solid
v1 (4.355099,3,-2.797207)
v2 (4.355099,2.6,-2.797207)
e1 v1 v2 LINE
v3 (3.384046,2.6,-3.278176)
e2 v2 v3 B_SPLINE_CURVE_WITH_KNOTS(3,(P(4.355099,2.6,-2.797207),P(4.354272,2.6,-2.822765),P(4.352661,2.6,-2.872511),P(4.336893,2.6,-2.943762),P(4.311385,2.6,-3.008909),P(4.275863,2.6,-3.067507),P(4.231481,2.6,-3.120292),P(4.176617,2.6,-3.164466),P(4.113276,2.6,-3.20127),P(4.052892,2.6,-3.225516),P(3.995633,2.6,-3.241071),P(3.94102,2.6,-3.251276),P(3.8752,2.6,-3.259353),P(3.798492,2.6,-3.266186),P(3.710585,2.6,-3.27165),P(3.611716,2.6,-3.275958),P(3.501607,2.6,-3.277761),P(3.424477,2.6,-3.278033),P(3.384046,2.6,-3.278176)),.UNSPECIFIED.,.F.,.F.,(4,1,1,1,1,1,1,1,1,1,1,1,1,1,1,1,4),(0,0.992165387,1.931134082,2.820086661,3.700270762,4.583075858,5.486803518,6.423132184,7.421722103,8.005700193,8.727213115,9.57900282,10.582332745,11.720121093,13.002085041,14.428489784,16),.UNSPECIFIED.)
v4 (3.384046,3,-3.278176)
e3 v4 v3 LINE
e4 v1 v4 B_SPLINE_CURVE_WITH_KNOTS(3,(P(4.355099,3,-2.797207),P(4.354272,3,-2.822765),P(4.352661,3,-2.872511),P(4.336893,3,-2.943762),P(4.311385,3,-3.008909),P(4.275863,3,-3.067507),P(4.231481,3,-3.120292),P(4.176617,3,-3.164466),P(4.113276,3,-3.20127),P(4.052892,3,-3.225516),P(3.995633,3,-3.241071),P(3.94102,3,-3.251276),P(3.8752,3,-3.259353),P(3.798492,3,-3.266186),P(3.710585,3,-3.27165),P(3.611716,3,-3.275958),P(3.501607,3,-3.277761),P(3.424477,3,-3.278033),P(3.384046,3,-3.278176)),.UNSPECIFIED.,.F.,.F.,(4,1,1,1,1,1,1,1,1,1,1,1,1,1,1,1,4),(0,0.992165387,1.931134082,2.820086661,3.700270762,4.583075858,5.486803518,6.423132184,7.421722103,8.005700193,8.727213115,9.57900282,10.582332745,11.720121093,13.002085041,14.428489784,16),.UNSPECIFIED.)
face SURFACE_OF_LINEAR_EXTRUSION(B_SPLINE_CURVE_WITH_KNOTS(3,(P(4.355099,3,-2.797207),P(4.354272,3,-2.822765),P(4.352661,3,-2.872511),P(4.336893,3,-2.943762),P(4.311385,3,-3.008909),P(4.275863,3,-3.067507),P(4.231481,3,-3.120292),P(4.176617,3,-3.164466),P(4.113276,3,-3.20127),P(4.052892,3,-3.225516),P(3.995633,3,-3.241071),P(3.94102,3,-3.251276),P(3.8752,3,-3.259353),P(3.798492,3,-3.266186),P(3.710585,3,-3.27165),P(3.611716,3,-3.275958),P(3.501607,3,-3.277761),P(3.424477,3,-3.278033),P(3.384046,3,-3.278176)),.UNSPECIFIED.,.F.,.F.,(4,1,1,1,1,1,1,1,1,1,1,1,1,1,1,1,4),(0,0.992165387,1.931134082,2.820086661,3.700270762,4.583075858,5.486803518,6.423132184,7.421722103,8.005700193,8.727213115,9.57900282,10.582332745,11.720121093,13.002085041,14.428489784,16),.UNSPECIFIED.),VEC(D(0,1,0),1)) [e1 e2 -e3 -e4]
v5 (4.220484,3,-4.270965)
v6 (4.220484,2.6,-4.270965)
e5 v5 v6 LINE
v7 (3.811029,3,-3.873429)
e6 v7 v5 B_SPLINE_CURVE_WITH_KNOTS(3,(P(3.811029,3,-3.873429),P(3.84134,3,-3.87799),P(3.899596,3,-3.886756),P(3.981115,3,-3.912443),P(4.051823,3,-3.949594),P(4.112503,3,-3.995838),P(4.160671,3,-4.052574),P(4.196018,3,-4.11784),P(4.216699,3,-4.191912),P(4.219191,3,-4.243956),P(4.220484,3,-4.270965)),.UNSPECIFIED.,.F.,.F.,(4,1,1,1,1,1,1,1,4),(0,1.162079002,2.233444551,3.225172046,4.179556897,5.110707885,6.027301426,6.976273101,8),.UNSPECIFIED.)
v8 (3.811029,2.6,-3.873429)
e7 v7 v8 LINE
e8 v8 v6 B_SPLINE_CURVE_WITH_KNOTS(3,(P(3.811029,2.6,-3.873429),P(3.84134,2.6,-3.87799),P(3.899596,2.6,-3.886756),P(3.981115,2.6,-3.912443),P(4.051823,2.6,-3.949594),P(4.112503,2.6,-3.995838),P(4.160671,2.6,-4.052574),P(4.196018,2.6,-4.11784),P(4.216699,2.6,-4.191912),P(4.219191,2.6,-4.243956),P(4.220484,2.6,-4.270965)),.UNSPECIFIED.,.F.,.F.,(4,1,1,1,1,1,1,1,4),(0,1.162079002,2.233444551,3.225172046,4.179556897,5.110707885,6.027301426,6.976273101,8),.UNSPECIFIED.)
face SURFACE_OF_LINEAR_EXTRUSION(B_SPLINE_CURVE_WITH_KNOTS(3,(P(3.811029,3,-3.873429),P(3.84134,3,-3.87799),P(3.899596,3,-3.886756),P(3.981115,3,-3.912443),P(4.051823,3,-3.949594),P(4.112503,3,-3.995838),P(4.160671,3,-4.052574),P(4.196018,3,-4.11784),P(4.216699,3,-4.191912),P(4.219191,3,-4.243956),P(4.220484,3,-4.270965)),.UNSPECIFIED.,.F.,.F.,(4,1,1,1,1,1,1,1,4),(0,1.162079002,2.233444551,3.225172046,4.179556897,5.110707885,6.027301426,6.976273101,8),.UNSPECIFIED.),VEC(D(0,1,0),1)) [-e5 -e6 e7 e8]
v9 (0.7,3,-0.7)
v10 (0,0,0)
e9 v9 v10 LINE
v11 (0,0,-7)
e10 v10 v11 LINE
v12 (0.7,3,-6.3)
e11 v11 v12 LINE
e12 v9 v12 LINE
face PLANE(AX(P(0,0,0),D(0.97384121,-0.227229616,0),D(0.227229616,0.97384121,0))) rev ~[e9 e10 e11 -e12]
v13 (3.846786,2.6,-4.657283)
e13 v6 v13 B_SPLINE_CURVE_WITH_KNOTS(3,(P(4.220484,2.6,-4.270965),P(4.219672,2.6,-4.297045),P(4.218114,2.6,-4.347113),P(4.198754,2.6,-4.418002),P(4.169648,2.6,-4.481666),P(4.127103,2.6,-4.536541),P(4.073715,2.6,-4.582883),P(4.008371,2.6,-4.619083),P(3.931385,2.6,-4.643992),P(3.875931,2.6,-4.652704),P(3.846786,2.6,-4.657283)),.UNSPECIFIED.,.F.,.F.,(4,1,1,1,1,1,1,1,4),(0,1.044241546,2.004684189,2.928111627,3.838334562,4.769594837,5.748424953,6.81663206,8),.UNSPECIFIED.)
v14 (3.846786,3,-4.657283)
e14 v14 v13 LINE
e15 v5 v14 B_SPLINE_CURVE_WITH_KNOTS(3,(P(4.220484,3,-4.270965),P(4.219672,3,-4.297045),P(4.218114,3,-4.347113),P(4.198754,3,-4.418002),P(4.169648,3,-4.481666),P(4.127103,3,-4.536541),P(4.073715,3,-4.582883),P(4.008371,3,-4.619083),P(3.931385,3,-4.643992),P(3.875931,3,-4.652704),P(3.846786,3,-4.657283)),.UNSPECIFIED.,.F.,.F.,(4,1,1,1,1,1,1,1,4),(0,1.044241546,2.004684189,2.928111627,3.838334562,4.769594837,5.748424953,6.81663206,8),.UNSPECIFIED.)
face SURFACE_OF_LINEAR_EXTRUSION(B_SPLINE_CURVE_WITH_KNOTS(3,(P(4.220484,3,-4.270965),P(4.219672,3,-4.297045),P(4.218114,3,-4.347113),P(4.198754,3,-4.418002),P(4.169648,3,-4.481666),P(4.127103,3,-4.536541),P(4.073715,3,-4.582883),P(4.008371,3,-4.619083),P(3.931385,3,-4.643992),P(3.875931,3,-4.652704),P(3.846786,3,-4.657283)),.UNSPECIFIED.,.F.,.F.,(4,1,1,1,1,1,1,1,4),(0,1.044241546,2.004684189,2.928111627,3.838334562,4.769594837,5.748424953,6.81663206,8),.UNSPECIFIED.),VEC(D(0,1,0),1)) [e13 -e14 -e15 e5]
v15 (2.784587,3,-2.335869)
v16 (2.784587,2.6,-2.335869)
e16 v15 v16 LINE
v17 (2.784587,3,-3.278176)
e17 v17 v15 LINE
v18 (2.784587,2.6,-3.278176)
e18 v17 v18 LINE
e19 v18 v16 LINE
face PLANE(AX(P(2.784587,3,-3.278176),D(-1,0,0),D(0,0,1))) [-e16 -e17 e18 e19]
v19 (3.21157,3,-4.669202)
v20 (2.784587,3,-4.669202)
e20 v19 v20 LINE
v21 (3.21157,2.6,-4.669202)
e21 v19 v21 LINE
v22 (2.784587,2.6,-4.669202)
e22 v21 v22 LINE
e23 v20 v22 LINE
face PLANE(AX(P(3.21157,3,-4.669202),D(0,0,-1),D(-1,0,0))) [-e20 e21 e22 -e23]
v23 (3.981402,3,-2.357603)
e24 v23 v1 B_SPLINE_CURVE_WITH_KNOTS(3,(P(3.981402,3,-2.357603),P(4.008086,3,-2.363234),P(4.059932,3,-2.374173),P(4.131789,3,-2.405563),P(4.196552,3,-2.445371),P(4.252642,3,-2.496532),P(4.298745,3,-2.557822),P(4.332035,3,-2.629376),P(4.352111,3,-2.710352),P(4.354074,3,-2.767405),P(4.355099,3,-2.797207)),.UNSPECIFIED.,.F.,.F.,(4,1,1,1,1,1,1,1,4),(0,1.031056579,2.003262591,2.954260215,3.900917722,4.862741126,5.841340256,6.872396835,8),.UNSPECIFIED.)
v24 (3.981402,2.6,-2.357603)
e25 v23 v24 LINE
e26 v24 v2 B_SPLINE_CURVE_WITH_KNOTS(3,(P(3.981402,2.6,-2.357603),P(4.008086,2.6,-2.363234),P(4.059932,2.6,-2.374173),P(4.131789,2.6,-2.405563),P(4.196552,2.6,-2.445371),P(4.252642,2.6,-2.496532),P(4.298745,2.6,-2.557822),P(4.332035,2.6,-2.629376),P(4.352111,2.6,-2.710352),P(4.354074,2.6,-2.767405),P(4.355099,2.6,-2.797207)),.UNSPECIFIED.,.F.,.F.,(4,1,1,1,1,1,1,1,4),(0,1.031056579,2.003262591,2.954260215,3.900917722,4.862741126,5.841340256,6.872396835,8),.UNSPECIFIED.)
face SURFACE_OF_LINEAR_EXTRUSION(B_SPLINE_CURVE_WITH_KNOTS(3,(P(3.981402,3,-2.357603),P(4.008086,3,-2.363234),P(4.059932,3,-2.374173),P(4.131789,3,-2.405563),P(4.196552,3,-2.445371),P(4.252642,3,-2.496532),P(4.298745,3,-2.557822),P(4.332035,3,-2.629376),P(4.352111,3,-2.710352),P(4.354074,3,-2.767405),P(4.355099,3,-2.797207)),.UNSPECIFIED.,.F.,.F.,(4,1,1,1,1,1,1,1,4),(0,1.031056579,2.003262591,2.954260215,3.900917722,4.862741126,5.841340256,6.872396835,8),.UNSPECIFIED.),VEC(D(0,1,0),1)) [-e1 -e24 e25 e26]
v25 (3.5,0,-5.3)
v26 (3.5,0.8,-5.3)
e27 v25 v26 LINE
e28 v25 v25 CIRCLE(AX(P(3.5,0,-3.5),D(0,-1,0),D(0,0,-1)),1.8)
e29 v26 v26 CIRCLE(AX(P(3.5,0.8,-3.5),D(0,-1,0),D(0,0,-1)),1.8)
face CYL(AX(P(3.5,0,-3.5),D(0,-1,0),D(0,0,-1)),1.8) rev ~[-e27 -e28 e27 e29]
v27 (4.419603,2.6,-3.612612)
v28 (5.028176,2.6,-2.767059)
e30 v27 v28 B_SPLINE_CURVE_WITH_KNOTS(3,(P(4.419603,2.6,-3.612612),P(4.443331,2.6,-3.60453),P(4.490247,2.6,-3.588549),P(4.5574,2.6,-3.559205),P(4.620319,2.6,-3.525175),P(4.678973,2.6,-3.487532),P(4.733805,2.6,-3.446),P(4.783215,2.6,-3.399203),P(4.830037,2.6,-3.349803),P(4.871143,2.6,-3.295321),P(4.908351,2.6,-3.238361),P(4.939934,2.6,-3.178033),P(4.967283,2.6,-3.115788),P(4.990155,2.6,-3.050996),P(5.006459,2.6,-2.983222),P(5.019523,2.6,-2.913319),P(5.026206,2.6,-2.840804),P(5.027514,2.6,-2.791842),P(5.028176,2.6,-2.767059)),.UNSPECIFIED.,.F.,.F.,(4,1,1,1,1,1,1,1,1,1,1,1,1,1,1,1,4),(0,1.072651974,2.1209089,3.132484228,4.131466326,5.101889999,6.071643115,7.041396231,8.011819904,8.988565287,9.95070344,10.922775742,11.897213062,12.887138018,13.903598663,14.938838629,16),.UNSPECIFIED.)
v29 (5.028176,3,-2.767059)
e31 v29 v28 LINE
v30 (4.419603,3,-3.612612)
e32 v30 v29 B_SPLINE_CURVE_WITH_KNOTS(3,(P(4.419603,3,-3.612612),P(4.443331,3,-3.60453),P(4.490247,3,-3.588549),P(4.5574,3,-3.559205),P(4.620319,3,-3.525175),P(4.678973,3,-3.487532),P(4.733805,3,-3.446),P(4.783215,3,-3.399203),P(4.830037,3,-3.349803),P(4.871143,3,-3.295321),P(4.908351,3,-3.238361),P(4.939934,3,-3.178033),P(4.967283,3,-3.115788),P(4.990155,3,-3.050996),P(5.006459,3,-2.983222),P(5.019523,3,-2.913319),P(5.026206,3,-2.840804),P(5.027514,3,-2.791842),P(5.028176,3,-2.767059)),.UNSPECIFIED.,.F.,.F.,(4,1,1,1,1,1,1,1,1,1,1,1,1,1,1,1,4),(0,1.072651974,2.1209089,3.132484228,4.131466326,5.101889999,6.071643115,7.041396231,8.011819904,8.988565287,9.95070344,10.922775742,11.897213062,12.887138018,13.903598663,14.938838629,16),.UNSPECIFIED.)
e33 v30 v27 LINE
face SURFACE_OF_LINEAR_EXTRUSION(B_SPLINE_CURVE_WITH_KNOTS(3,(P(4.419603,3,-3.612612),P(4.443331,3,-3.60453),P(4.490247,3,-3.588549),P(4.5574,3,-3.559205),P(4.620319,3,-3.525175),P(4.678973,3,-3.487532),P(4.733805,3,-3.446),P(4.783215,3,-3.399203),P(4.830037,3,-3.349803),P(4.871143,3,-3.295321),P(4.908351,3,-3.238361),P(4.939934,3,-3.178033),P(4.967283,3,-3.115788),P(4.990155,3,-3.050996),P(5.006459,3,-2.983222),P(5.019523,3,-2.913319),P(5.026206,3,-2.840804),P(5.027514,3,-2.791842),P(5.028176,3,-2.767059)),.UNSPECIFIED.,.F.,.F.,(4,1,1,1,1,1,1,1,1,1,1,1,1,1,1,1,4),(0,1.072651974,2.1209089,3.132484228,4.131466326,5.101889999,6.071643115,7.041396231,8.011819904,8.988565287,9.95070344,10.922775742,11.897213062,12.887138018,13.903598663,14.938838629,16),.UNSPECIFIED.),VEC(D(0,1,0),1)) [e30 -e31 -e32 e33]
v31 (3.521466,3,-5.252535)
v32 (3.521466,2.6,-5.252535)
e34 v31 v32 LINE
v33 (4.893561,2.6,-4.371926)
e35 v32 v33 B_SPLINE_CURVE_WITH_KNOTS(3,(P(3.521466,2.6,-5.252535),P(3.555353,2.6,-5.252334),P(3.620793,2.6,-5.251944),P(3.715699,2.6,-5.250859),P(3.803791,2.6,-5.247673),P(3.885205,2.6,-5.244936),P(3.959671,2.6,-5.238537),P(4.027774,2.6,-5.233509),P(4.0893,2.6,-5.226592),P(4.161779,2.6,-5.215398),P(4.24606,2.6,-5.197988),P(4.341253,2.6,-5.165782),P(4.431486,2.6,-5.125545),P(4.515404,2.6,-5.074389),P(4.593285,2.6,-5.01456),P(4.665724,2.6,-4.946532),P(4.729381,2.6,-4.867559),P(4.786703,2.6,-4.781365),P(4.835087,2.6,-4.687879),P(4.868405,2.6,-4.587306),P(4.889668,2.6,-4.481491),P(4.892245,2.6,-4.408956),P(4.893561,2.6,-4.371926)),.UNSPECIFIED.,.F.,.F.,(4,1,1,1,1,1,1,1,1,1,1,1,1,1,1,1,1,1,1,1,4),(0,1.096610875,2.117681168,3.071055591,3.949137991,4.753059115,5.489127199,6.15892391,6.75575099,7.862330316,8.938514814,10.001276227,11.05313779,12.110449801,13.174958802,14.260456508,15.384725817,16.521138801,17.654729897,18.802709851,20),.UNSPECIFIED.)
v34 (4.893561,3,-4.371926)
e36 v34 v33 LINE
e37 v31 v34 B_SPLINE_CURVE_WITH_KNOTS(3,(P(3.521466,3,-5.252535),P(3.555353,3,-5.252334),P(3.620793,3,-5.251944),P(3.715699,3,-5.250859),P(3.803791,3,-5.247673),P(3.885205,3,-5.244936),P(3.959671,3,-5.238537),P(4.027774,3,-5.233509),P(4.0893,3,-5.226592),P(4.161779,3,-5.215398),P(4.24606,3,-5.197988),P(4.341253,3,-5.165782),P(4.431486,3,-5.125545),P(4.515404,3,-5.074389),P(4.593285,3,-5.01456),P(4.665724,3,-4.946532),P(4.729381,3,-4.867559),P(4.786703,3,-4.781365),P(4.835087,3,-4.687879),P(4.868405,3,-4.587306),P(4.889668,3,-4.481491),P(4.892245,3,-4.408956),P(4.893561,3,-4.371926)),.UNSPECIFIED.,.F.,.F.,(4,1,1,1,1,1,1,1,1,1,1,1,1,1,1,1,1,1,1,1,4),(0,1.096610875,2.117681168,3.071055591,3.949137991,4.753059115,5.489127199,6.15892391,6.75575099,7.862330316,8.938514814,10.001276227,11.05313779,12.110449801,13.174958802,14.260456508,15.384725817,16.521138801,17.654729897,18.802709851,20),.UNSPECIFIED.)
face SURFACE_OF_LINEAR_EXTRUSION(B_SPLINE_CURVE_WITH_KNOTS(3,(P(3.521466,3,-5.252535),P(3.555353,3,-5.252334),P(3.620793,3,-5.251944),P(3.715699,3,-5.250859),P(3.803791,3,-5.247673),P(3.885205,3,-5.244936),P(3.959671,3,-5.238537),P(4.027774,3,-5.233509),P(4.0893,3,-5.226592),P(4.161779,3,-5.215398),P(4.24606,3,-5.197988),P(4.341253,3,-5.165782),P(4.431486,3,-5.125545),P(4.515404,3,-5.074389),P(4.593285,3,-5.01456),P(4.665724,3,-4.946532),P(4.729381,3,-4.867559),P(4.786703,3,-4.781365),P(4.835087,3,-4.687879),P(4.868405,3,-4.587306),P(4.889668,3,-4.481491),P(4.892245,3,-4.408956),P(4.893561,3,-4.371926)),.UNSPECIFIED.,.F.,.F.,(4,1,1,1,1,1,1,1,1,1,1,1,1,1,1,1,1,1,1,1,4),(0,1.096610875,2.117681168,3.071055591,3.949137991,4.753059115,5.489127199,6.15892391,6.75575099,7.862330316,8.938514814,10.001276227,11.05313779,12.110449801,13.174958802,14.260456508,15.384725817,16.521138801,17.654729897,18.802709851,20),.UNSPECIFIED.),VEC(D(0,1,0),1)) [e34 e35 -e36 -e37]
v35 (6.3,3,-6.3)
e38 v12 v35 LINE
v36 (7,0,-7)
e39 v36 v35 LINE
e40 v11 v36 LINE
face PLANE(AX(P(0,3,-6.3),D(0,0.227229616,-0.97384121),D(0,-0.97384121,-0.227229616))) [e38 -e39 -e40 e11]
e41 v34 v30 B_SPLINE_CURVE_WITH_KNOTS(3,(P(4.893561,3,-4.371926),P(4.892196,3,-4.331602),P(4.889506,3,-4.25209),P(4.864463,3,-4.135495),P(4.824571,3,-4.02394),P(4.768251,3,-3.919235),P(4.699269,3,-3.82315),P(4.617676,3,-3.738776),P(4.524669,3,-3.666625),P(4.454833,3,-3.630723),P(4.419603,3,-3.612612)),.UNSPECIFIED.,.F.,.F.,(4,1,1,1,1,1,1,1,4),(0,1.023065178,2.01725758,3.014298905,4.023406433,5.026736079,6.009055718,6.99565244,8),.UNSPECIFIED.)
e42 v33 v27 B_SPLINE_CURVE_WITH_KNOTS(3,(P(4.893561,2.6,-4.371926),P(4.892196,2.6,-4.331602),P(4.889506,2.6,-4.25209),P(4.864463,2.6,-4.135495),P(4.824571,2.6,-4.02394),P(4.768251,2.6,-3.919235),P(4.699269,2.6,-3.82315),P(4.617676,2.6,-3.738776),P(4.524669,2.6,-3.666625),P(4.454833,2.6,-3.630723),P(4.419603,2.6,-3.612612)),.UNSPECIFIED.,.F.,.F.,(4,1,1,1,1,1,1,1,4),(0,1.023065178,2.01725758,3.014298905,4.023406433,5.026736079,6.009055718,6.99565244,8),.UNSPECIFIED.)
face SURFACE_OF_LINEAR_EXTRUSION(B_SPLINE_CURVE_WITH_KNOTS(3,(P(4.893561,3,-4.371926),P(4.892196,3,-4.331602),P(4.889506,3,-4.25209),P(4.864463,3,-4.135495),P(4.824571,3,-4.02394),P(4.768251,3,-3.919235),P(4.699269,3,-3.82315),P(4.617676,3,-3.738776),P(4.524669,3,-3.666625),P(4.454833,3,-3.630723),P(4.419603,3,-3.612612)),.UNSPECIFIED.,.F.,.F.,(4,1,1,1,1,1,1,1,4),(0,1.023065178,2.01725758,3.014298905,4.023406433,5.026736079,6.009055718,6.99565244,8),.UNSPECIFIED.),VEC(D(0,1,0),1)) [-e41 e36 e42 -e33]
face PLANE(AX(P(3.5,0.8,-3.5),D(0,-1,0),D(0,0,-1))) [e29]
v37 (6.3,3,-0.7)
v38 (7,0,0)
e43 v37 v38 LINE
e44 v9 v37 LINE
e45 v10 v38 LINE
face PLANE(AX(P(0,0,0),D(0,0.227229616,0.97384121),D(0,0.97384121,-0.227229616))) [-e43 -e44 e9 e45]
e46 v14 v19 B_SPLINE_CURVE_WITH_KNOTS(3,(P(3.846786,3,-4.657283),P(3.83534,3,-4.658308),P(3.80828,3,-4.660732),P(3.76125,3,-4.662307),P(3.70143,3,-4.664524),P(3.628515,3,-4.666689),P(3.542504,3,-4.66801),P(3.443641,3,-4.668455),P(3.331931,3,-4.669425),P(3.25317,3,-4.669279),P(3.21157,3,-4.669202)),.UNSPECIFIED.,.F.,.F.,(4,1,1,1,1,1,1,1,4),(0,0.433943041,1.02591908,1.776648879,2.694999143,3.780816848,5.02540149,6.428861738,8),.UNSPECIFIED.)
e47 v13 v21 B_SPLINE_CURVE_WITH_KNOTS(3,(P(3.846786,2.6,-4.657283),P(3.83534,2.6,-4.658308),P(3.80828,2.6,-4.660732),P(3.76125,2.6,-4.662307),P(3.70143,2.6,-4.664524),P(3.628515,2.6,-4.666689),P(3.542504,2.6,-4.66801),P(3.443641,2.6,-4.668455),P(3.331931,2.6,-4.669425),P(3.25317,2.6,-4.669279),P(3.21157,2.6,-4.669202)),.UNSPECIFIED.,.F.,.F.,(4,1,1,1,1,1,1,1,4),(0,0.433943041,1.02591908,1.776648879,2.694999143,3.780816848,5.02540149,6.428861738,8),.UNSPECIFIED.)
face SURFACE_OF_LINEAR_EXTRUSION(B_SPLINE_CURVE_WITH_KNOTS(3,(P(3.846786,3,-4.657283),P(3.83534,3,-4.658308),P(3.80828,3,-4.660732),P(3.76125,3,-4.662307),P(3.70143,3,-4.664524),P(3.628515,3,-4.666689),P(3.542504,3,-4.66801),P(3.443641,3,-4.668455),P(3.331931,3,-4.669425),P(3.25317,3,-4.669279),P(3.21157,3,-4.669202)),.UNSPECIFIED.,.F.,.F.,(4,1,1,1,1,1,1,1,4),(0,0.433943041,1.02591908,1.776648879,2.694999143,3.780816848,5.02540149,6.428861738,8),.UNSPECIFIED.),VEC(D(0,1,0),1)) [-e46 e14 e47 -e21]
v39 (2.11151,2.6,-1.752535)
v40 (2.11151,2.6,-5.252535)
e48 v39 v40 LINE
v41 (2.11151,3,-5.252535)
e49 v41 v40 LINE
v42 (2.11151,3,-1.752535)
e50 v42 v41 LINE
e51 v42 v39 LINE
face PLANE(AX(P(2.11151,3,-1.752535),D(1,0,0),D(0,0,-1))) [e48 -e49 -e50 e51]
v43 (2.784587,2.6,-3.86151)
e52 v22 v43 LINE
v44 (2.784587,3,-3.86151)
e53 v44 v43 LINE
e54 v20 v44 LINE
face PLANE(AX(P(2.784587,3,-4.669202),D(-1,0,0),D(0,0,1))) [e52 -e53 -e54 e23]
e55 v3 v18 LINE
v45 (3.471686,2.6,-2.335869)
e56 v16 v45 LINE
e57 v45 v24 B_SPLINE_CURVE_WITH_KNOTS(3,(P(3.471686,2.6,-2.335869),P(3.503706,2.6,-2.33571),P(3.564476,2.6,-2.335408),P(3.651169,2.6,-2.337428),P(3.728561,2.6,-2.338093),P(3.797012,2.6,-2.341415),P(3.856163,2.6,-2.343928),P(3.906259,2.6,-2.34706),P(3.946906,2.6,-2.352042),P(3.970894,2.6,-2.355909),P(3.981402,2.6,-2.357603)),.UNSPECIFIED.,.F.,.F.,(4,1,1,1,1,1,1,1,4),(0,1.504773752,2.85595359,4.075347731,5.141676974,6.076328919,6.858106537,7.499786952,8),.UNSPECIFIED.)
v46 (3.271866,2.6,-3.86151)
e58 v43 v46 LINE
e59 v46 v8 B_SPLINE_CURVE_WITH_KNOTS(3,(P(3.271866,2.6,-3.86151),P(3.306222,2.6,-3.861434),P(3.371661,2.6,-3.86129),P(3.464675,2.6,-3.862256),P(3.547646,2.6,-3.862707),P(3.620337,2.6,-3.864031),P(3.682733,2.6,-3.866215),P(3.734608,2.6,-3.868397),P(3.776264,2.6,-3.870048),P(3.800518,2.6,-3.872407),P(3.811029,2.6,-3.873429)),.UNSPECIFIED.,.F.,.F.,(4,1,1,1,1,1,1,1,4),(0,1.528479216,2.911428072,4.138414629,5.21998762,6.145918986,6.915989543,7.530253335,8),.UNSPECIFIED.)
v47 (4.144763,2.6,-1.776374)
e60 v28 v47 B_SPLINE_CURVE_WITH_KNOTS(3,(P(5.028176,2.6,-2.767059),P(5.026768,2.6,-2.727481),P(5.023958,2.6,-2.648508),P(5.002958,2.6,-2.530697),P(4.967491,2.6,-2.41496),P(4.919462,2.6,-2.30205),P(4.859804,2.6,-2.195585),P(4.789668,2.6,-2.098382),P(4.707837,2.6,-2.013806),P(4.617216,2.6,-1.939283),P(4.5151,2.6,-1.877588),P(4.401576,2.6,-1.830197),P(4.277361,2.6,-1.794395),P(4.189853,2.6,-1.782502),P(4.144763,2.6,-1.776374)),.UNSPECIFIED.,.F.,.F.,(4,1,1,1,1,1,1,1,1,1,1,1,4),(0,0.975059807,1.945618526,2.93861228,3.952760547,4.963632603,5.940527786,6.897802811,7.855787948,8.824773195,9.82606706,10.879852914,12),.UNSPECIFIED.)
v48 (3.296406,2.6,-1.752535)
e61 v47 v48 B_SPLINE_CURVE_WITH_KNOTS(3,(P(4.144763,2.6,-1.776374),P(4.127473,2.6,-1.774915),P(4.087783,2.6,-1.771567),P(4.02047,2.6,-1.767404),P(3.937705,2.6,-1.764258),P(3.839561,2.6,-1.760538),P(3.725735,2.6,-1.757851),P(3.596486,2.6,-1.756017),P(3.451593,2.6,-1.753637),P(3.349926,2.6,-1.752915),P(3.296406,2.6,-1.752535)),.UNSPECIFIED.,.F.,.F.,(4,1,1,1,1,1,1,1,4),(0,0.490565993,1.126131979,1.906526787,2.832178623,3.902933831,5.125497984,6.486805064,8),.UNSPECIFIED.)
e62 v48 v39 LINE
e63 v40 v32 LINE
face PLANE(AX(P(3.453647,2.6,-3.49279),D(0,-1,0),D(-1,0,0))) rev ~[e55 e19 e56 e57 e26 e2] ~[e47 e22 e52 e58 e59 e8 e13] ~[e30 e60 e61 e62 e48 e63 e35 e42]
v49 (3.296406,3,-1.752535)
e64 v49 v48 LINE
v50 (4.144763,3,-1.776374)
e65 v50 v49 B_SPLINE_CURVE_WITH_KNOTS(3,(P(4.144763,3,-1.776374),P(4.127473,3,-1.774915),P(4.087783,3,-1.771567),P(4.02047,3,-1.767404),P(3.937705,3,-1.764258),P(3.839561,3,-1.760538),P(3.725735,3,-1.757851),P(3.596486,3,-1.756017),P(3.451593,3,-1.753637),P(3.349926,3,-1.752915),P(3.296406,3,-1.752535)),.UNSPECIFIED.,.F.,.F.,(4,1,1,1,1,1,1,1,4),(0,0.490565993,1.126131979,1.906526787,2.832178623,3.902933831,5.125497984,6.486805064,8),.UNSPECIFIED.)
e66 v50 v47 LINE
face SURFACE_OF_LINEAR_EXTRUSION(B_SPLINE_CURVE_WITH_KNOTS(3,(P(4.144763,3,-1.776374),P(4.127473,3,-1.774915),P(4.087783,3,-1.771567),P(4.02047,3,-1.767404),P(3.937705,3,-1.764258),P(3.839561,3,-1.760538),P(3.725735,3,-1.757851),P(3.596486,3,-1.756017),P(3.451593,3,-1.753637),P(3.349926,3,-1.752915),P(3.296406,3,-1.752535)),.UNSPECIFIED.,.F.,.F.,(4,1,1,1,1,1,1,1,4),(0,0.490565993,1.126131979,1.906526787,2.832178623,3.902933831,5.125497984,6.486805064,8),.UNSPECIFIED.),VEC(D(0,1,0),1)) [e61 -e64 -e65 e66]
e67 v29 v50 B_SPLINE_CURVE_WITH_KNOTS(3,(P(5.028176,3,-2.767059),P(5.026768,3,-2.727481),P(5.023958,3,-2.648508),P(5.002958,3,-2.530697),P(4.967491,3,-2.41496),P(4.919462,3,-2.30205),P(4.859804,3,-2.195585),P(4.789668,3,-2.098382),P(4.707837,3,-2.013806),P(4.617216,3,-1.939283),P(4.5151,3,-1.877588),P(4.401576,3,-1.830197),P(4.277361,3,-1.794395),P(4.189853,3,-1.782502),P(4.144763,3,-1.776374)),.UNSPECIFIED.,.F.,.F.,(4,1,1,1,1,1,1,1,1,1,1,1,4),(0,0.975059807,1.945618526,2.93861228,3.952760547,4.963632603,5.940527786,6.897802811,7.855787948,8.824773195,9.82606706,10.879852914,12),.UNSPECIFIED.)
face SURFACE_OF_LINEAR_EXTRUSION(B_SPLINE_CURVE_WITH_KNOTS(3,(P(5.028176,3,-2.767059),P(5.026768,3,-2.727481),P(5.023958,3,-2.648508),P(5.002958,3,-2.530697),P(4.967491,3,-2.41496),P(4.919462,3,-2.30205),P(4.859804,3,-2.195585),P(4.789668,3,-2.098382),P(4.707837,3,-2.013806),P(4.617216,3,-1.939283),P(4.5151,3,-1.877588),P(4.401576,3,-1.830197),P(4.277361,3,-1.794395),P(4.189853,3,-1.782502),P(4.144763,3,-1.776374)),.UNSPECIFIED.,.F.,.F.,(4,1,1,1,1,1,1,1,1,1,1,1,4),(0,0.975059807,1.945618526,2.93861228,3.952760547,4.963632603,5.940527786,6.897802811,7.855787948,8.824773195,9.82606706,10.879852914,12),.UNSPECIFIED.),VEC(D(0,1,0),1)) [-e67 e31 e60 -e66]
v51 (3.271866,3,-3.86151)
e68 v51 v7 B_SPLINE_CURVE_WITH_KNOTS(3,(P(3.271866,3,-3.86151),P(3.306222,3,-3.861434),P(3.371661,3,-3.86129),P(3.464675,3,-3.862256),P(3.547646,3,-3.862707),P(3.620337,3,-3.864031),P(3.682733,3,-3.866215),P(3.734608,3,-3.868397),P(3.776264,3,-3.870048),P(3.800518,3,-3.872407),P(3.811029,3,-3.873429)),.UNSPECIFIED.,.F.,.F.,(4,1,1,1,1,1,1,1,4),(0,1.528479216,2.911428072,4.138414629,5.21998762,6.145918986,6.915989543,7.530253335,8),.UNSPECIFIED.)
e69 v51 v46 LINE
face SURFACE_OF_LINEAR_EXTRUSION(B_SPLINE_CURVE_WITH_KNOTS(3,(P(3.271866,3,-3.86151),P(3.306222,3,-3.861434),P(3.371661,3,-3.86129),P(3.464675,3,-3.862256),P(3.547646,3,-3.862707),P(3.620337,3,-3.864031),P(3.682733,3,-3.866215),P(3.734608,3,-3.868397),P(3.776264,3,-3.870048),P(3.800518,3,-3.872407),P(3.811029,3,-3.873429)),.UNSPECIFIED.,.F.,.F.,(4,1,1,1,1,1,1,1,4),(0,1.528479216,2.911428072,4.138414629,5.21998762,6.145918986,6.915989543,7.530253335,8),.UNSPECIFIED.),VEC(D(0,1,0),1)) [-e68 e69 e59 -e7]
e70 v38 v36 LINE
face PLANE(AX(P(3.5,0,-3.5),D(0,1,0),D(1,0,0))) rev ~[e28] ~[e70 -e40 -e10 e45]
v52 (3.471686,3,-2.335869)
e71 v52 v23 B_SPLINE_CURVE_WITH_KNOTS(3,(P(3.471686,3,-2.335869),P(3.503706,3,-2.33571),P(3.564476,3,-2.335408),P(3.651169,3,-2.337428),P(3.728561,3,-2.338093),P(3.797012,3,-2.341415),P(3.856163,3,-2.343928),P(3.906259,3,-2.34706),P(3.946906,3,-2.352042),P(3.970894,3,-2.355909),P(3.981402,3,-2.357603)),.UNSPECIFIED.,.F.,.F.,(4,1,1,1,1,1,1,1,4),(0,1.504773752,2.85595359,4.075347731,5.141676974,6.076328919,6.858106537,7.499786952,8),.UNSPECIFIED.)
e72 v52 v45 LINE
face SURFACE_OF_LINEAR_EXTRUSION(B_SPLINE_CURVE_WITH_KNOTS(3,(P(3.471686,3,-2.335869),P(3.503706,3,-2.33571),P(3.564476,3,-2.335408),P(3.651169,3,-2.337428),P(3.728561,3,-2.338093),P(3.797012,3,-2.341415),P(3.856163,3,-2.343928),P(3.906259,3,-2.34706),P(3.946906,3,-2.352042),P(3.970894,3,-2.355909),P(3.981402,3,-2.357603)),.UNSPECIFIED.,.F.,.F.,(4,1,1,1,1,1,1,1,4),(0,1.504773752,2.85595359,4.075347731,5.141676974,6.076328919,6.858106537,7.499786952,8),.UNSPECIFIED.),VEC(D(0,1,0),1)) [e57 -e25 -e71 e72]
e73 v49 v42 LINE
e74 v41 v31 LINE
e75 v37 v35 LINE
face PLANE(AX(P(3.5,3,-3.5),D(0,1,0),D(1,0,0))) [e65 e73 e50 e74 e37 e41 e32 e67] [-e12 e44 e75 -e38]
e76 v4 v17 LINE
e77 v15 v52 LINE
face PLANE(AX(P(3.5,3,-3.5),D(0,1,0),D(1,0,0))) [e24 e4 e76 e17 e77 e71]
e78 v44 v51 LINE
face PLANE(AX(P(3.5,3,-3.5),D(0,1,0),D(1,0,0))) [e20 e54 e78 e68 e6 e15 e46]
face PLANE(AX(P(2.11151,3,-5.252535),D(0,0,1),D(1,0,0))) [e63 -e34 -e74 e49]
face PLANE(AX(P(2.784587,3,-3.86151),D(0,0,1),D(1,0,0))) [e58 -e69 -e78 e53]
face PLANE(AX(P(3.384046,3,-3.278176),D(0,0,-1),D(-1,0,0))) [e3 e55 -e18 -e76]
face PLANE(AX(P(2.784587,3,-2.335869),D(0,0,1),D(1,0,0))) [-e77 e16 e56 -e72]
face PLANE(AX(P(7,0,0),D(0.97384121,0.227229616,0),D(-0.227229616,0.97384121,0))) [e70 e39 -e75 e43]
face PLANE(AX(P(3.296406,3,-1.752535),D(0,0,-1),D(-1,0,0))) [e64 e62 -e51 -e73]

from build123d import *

# Parameters (mm, degrees)
SKETCH1_W           = 7
SKETCH1_H           = 7
BOSS_EXTRUDE1_DEPTH = 3
CUT_EXTRUDE1_DEPTH  = 7
CUT_EXTRUDE2_DEPTH  = 11
SKETCH4_R           = 1.8
CUT_EXTRUDE3_DEPTH  = 0.8
CUT_EXTRUDE4_DEPTH  = 0.4


with BuildPart() as part:
    # Sketch1 → Boss-Extrude1 (new body)
    with BuildSketch(Plane(origin=(0, 0, 0), x_dir=(1, 0, 0), z_dir=(0, 1, 0))):
        with Locations((3.5, 3.5)):
            Rectangle(SKETCH1_W, SKETCH1_H)
    extrude(amount=BOSS_EXTRUDE1_DEPTH)

    # Sketch2 → Cut-Extrude1 (cut)
    with BuildSketch(Plane.XY):
        Polygon((0, 0), (0.7, 3), (0, 3), align=None)
        Polygon((7, 0), (6.3, 3), (7, 3), align=None)
    extrude(amount=-CUT_EXTRUDE1_DEPTH, mode=Mode.SUBTRACT)

    # Sketch3 → Cut-Extrude2 (cut)
    with BuildSketch(Plane(origin=(0, 0, 0), x_dir=(0, 0, -1), z_dir=(1, 0, 0))):
        Polygon((0, 0), (0.7, 3), (0, 3), align=None)
        Polygon((7, 3), (6.3, 3), (7, 0), align=None)
    extrude(amount=CUT_EXTRUDE2_DEPTH, mode=Mode.SUBTRACT)

    # Sketch4 → Cut-Extrude3 (cut)
    with BuildSketch(Plane.XZ):
        with Locations(Location((3.5, -3.5, 0), (0, 0, 270))):
            Circle(SKETCH4_R)
    extrude(amount=-CUT_EXTRUDE3_DEPTH, mode=Mode.SUBTRACT)

    # Sketch5 → Cut-Extrude4 (cut)
    with BuildSketch(Plane(origin=(0, 3, 0), x_dir=(1, 0, 0), z_dir=(0, 1, 0))):
        with BuildLine():
            Line((2.111509743, 5.252535384), (3.521465672, 5.252535384))
            add(Edge.make_bspline(
                [(3.521465672, 5.252535384), (3.555352929, 5.252333756), (3.620793103, 5.251944389), (3.715699078, 5.250859268), (3.803790562, 5.247672529), (3.88520473, 5.244936095), (3.959670809, 5.238536714), (4.027774054, 5.233508957), (4.089300044, 5.226592072), (4.161779262, 5.215398498), (4.246059792, 5.197987684), (4.341252586, 5.165782389), (4.43148602, 5.125545022), (4.515403802, 5.074389368), (4.593284686, 5.014559615), (4.665724305, 4.946532312), (4.729381186, 4.867558536), (4.786703202, 4.781364769), (4.835087081, 4.687878618), (4.868405373, 4.587306133), (4.88966817, 4.481491325), (4.892245345, 4.408956406), (4.893561025, 4.37192641)],
                knots=[0, 0, 0, 0, 1.096610875, 2.117681168, 3.071055591, 3.949137991, 4.753059115, 5.489127199, 6.15892391, 6.75575099, 7.862330316, 8.938514814, 10.001276227, 11.05313779, 12.110449801, 13.174958802, 14.260456508, 15.384725817, 16.521138801, 17.654729897, 18.802709851, 20, 20, 20, 20], degree=3))
            add(Edge.make_bspline(
                [(4.893561025, 4.37192641), (4.892196479, 4.331601681), (4.889505896, 4.252090262), (4.864462524, 4.135494667), (4.824571342, 4.023939737), (4.768250724, 3.919235161), (4.699269413, 3.823150089), (4.617676049, 3.738775738), (4.524669493, 3.666625119), (4.454832509, 3.630722743), (4.419602692, 3.612611506)],
                knots=[0, 0, 0, 0, 1.023065178, 2.01725758, 3.014298905, 4.023406433, 5.026736079, 6.009055718, 6.99565244, 8, 8, 8, 8], degree=3))
            add(Edge.make_bspline(
                [(4.419602692, 3.612611506), (4.443330648, 3.604529528), (4.490246921, 3.588549379), (4.557400348, 3.559205258), (4.620319472, 3.52517498), (4.678972699, 3.487531632), (4.733805186, 3.446000029), (4.783214944, 3.399203081), (4.83003713, 3.349803196), (4.871143379, 3.295320645), (4.908350842, 3.238361247), (4.939934418, 3.17803347), (4.967283165, 3.115788352), (4.990155428, 3.050995933), (5.006459358, 2.983221651), (5.019523083, 2.913319286), (5.02620612, 2.840804369), (5.027514255, 2.791842338), (5.02817641, 2.767058621)],
                knots=[0, 0, 0, 0, 1.072651974, 2.1209089, 3.132484228, 4.131466326, 5.101889999, 6.071643115, 7.041396231, 8.011819904, 8.988565287, 9.95070344, 10.922775742, 11.897213062, 12.887138018, 13.903598663, 14.938838629, 16, 16, 16, 16], degree=3))
            add(Edge.make_bspline(
                [(5.02817641, 2.767058621), (5.026768086, 2.727480727), (5.02395794, 2.64850764), (5.002958076, 2.530696633), (4.96749134, 2.414960489), (4.919462058, 2.302050025), (4.859804392, 2.195584607), (4.789667704, 2.098381872), (4.707836651, 2.01380613), (4.617215838, 1.939282584), (4.515099833, 1.877587714), (4.401575881, 1.830197397), (4.277361379, 1.794394944), (4.18985285, 1.782501682), (4.144762948, 1.776373525)],
                knots=[0, 0, 0, 0, 0.975059807, 1.945618526, 2.93861228, 3.952760547, 4.963632603, 5.940527786, 6.897802811, 7.855787948, 8.824773195, 9.82606706, 10.879852914, 12, 12, 12, 12], degree=3))
            add(Edge.make_bspline(
                [(4.144762948, 1.776373525), (4.127472996, 1.774915024), (4.087782581, 1.771566924), (4.020469845, 1.767404325), (3.937705498, 1.764257864), (3.839561406, 1.760537572), (3.725735437, 1.757851413), (3.596486285, 1.756017129), (3.451593418, 1.75363659), (3.349925557, 1.752915159), (3.296405576, 1.752535384)],
                knots=[0, 0, 0, 0, 0.490565993, 1.126131979, 1.906526787, 2.832178623, 3.902933831, 5.125497984, 6.486805064, 8, 8, 8, 8], degree=3))
            Line((3.296405576, 1.752535384), (2.111509743, 1.752535384))
            Line((2.111509743, 1.752535384), (2.111509743, 5.252535384))
        make_face()
        with BuildLine():
            Line((2.784586666, 4.669202051), (2.784586666, 3.861509743))
            Line((2.784586666, 3.861509743), (3.271866313, 3.861509743))
            add(Edge.make_bspline(
                [(3.271866313, 3.861509743), (3.306221586, 3.861434055), (3.371661079, 3.861289884), (3.464674551, 3.862255994), (3.547646114, 3.862707017), (3.620337221, 3.8640307), (3.682732948, 3.866215267), (3.734608475, 3.868396735), (3.776263571, 3.870048358), (3.800518366, 3.872406802), (3.811028974, 3.873428813)],
                knots=[0, 0, 0, 0, 1.528479216, 2.911428072, 4.138414629, 5.21998762, 6.145918986, 6.915989543, 7.530253335, 8, 8, 8, 8], degree=3))
            add(Edge.make_bspline(
                [(3.811028974, 3.873428813), (3.841339923, 3.877989922), (3.899595708, 3.886756091), (3.981115359, 3.912443032), (4.051822858, 3.949594446), (4.112503082, 3.995838149), (4.16067052, 4.052573755), (4.196017974, 4.117840239), (4.216698833, 4.191911851), (4.219190867, 4.243956456), (4.220484102, 4.270964871)],
                knots=[0, 0, 0, 0, 1.162079002, 2.233444551, 3.225172046, 4.179556897, 5.110707885, 6.027301426, 6.976273101, 8, 8, 8, 8], degree=3))
            add(Edge.make_bspline(
                [(4.220484102, 4.270964871), (4.219672292, 4.297045189), (4.21811382, 4.347112917), (4.198753979, 4.418001877), (4.169647913, 4.481665844), (4.127102602, 4.536540746), (4.073714805, 4.582883197), (4.008370927, 4.619083019), (3.931384749, 4.643991925), (3.875931131, 4.652704095), (3.846786185, 4.65728298)],
                knots=[0, 0, 0, 0, 1.044241546, 2.004684189, 2.928111627, 3.838334562, 4.769594837, 5.748424953, 6.81663206, 8, 8, 8, 8], degree=3))
            add(Edge.make_bspline(
                [(3.846786185, 4.65728298), (3.835340353, 4.658308087), (3.808280354, 4.660731624), (3.761249742, 4.662307099), (3.701429573, 4.664524478), (3.628514928, 4.666688526), (3.542503834, 4.668009799), (3.443640912, 4.668455112), (3.331930575, 4.669425441), (3.253169995, 4.669279261), (3.211569839, 4.669202051)],
                knots=[0, 0, 0, 0, 0.433943041, 1.02591908, 1.776648879, 2.694999143, 3.780816848, 5.02540149, 6.428861738, 8, 8, 8, 8], degree=3))
            Line((3.211569839, 4.669202051), (2.784586666, 4.669202051))
        make_face(mode=Mode.SUBTRACT)
        with BuildLine():
            Line((2.784586666, 3.27817641), (2.784586666, 2.335868717))
            Line((2.784586666, 2.335868717), (3.471686025, 2.335868717))
            add(Edge.make_bspline(
                [(3.471686025, 2.335868717), (3.503705507, 2.335709884), (3.564476207, 2.33540843), (3.651169443, 2.337427531), (3.728560529, 2.338093302), (3.79701169, 2.341414873), (3.856163227, 2.343927607), (3.906258531, 2.347060152), (3.946906458, 2.352041803), (3.970893783, 2.355909309), (3.98140157, 2.357603493)],
                knots=[0, 0, 0, 0, 1.504773752, 2.85595359, 4.075347731, 5.141676974, 6.076328919, 6.858106537, 7.499786952, 8, 8, 8, 8], degree=3))
            add(Edge.make_bspline(
                [(3.98140157, 2.357603493), (4.008085962, 2.36323372), (4.059931656, 2.374172812), (4.13178912, 2.405562615), (4.196552287, 2.445370583), (4.252642198, 2.496532162), (4.298745197, 2.557822327), (4.332034841, 2.629376077), (4.352110737, 2.710351547), (4.354073968, 2.767404519), (4.355099486, 2.797206858)],
                knots=[0, 0, 0, 0, 1.031056579, 2.003262591, 2.954260215, 3.900917722, 4.862741126, 5.841340256, 6.872396835, 8, 8, 8, 8], degree=3))
            add(Edge.make_bspline(
                [(4.355099486, 2.797206858), (4.354271867, 2.82276493), (4.352661002, 2.872510733), (4.336892789, 2.943762046), (4.311385128, 3.008909067), (4.275862523, 3.067507228), (4.231481376, 3.120292471), (4.17661735, 3.164466336), (4.113275558, 3.201270071), (4.052892173, 3.225515958), (3.995633073, 3.241071138), (3.941019912, 3.251275641), (3.875199891, 3.25935328), (3.798492104, 3.266186067), (3.710585277, 3.271650146), (3.611715662, 3.275957666), (3.501607357, 3.277760533), (3.424477404, 3.278033382), (3.384045801, 3.27817641)],
                knots=[0, 0, 0, 0, 0.992165387, 1.931134082, 2.820086661, 3.700270762, 4.583075858, 5.486803518, 6.423132184, 7.421722103, 8.005700193, 8.727213115, 9.57900282, 10.582332745, 11.720121093, 13.002085041, 14.428489784, 16, 16, 16, 16], degree=3))
            Line((3.384045801, 3.27817641), (2.784586666, 3.27817641))
        make_face(mode=Mode.SUBTRACT)
    extrude(amount=-CUT_EXTRUDE4_DEPTH, mode=Mode.SUBTRACT)


solid = part.part
